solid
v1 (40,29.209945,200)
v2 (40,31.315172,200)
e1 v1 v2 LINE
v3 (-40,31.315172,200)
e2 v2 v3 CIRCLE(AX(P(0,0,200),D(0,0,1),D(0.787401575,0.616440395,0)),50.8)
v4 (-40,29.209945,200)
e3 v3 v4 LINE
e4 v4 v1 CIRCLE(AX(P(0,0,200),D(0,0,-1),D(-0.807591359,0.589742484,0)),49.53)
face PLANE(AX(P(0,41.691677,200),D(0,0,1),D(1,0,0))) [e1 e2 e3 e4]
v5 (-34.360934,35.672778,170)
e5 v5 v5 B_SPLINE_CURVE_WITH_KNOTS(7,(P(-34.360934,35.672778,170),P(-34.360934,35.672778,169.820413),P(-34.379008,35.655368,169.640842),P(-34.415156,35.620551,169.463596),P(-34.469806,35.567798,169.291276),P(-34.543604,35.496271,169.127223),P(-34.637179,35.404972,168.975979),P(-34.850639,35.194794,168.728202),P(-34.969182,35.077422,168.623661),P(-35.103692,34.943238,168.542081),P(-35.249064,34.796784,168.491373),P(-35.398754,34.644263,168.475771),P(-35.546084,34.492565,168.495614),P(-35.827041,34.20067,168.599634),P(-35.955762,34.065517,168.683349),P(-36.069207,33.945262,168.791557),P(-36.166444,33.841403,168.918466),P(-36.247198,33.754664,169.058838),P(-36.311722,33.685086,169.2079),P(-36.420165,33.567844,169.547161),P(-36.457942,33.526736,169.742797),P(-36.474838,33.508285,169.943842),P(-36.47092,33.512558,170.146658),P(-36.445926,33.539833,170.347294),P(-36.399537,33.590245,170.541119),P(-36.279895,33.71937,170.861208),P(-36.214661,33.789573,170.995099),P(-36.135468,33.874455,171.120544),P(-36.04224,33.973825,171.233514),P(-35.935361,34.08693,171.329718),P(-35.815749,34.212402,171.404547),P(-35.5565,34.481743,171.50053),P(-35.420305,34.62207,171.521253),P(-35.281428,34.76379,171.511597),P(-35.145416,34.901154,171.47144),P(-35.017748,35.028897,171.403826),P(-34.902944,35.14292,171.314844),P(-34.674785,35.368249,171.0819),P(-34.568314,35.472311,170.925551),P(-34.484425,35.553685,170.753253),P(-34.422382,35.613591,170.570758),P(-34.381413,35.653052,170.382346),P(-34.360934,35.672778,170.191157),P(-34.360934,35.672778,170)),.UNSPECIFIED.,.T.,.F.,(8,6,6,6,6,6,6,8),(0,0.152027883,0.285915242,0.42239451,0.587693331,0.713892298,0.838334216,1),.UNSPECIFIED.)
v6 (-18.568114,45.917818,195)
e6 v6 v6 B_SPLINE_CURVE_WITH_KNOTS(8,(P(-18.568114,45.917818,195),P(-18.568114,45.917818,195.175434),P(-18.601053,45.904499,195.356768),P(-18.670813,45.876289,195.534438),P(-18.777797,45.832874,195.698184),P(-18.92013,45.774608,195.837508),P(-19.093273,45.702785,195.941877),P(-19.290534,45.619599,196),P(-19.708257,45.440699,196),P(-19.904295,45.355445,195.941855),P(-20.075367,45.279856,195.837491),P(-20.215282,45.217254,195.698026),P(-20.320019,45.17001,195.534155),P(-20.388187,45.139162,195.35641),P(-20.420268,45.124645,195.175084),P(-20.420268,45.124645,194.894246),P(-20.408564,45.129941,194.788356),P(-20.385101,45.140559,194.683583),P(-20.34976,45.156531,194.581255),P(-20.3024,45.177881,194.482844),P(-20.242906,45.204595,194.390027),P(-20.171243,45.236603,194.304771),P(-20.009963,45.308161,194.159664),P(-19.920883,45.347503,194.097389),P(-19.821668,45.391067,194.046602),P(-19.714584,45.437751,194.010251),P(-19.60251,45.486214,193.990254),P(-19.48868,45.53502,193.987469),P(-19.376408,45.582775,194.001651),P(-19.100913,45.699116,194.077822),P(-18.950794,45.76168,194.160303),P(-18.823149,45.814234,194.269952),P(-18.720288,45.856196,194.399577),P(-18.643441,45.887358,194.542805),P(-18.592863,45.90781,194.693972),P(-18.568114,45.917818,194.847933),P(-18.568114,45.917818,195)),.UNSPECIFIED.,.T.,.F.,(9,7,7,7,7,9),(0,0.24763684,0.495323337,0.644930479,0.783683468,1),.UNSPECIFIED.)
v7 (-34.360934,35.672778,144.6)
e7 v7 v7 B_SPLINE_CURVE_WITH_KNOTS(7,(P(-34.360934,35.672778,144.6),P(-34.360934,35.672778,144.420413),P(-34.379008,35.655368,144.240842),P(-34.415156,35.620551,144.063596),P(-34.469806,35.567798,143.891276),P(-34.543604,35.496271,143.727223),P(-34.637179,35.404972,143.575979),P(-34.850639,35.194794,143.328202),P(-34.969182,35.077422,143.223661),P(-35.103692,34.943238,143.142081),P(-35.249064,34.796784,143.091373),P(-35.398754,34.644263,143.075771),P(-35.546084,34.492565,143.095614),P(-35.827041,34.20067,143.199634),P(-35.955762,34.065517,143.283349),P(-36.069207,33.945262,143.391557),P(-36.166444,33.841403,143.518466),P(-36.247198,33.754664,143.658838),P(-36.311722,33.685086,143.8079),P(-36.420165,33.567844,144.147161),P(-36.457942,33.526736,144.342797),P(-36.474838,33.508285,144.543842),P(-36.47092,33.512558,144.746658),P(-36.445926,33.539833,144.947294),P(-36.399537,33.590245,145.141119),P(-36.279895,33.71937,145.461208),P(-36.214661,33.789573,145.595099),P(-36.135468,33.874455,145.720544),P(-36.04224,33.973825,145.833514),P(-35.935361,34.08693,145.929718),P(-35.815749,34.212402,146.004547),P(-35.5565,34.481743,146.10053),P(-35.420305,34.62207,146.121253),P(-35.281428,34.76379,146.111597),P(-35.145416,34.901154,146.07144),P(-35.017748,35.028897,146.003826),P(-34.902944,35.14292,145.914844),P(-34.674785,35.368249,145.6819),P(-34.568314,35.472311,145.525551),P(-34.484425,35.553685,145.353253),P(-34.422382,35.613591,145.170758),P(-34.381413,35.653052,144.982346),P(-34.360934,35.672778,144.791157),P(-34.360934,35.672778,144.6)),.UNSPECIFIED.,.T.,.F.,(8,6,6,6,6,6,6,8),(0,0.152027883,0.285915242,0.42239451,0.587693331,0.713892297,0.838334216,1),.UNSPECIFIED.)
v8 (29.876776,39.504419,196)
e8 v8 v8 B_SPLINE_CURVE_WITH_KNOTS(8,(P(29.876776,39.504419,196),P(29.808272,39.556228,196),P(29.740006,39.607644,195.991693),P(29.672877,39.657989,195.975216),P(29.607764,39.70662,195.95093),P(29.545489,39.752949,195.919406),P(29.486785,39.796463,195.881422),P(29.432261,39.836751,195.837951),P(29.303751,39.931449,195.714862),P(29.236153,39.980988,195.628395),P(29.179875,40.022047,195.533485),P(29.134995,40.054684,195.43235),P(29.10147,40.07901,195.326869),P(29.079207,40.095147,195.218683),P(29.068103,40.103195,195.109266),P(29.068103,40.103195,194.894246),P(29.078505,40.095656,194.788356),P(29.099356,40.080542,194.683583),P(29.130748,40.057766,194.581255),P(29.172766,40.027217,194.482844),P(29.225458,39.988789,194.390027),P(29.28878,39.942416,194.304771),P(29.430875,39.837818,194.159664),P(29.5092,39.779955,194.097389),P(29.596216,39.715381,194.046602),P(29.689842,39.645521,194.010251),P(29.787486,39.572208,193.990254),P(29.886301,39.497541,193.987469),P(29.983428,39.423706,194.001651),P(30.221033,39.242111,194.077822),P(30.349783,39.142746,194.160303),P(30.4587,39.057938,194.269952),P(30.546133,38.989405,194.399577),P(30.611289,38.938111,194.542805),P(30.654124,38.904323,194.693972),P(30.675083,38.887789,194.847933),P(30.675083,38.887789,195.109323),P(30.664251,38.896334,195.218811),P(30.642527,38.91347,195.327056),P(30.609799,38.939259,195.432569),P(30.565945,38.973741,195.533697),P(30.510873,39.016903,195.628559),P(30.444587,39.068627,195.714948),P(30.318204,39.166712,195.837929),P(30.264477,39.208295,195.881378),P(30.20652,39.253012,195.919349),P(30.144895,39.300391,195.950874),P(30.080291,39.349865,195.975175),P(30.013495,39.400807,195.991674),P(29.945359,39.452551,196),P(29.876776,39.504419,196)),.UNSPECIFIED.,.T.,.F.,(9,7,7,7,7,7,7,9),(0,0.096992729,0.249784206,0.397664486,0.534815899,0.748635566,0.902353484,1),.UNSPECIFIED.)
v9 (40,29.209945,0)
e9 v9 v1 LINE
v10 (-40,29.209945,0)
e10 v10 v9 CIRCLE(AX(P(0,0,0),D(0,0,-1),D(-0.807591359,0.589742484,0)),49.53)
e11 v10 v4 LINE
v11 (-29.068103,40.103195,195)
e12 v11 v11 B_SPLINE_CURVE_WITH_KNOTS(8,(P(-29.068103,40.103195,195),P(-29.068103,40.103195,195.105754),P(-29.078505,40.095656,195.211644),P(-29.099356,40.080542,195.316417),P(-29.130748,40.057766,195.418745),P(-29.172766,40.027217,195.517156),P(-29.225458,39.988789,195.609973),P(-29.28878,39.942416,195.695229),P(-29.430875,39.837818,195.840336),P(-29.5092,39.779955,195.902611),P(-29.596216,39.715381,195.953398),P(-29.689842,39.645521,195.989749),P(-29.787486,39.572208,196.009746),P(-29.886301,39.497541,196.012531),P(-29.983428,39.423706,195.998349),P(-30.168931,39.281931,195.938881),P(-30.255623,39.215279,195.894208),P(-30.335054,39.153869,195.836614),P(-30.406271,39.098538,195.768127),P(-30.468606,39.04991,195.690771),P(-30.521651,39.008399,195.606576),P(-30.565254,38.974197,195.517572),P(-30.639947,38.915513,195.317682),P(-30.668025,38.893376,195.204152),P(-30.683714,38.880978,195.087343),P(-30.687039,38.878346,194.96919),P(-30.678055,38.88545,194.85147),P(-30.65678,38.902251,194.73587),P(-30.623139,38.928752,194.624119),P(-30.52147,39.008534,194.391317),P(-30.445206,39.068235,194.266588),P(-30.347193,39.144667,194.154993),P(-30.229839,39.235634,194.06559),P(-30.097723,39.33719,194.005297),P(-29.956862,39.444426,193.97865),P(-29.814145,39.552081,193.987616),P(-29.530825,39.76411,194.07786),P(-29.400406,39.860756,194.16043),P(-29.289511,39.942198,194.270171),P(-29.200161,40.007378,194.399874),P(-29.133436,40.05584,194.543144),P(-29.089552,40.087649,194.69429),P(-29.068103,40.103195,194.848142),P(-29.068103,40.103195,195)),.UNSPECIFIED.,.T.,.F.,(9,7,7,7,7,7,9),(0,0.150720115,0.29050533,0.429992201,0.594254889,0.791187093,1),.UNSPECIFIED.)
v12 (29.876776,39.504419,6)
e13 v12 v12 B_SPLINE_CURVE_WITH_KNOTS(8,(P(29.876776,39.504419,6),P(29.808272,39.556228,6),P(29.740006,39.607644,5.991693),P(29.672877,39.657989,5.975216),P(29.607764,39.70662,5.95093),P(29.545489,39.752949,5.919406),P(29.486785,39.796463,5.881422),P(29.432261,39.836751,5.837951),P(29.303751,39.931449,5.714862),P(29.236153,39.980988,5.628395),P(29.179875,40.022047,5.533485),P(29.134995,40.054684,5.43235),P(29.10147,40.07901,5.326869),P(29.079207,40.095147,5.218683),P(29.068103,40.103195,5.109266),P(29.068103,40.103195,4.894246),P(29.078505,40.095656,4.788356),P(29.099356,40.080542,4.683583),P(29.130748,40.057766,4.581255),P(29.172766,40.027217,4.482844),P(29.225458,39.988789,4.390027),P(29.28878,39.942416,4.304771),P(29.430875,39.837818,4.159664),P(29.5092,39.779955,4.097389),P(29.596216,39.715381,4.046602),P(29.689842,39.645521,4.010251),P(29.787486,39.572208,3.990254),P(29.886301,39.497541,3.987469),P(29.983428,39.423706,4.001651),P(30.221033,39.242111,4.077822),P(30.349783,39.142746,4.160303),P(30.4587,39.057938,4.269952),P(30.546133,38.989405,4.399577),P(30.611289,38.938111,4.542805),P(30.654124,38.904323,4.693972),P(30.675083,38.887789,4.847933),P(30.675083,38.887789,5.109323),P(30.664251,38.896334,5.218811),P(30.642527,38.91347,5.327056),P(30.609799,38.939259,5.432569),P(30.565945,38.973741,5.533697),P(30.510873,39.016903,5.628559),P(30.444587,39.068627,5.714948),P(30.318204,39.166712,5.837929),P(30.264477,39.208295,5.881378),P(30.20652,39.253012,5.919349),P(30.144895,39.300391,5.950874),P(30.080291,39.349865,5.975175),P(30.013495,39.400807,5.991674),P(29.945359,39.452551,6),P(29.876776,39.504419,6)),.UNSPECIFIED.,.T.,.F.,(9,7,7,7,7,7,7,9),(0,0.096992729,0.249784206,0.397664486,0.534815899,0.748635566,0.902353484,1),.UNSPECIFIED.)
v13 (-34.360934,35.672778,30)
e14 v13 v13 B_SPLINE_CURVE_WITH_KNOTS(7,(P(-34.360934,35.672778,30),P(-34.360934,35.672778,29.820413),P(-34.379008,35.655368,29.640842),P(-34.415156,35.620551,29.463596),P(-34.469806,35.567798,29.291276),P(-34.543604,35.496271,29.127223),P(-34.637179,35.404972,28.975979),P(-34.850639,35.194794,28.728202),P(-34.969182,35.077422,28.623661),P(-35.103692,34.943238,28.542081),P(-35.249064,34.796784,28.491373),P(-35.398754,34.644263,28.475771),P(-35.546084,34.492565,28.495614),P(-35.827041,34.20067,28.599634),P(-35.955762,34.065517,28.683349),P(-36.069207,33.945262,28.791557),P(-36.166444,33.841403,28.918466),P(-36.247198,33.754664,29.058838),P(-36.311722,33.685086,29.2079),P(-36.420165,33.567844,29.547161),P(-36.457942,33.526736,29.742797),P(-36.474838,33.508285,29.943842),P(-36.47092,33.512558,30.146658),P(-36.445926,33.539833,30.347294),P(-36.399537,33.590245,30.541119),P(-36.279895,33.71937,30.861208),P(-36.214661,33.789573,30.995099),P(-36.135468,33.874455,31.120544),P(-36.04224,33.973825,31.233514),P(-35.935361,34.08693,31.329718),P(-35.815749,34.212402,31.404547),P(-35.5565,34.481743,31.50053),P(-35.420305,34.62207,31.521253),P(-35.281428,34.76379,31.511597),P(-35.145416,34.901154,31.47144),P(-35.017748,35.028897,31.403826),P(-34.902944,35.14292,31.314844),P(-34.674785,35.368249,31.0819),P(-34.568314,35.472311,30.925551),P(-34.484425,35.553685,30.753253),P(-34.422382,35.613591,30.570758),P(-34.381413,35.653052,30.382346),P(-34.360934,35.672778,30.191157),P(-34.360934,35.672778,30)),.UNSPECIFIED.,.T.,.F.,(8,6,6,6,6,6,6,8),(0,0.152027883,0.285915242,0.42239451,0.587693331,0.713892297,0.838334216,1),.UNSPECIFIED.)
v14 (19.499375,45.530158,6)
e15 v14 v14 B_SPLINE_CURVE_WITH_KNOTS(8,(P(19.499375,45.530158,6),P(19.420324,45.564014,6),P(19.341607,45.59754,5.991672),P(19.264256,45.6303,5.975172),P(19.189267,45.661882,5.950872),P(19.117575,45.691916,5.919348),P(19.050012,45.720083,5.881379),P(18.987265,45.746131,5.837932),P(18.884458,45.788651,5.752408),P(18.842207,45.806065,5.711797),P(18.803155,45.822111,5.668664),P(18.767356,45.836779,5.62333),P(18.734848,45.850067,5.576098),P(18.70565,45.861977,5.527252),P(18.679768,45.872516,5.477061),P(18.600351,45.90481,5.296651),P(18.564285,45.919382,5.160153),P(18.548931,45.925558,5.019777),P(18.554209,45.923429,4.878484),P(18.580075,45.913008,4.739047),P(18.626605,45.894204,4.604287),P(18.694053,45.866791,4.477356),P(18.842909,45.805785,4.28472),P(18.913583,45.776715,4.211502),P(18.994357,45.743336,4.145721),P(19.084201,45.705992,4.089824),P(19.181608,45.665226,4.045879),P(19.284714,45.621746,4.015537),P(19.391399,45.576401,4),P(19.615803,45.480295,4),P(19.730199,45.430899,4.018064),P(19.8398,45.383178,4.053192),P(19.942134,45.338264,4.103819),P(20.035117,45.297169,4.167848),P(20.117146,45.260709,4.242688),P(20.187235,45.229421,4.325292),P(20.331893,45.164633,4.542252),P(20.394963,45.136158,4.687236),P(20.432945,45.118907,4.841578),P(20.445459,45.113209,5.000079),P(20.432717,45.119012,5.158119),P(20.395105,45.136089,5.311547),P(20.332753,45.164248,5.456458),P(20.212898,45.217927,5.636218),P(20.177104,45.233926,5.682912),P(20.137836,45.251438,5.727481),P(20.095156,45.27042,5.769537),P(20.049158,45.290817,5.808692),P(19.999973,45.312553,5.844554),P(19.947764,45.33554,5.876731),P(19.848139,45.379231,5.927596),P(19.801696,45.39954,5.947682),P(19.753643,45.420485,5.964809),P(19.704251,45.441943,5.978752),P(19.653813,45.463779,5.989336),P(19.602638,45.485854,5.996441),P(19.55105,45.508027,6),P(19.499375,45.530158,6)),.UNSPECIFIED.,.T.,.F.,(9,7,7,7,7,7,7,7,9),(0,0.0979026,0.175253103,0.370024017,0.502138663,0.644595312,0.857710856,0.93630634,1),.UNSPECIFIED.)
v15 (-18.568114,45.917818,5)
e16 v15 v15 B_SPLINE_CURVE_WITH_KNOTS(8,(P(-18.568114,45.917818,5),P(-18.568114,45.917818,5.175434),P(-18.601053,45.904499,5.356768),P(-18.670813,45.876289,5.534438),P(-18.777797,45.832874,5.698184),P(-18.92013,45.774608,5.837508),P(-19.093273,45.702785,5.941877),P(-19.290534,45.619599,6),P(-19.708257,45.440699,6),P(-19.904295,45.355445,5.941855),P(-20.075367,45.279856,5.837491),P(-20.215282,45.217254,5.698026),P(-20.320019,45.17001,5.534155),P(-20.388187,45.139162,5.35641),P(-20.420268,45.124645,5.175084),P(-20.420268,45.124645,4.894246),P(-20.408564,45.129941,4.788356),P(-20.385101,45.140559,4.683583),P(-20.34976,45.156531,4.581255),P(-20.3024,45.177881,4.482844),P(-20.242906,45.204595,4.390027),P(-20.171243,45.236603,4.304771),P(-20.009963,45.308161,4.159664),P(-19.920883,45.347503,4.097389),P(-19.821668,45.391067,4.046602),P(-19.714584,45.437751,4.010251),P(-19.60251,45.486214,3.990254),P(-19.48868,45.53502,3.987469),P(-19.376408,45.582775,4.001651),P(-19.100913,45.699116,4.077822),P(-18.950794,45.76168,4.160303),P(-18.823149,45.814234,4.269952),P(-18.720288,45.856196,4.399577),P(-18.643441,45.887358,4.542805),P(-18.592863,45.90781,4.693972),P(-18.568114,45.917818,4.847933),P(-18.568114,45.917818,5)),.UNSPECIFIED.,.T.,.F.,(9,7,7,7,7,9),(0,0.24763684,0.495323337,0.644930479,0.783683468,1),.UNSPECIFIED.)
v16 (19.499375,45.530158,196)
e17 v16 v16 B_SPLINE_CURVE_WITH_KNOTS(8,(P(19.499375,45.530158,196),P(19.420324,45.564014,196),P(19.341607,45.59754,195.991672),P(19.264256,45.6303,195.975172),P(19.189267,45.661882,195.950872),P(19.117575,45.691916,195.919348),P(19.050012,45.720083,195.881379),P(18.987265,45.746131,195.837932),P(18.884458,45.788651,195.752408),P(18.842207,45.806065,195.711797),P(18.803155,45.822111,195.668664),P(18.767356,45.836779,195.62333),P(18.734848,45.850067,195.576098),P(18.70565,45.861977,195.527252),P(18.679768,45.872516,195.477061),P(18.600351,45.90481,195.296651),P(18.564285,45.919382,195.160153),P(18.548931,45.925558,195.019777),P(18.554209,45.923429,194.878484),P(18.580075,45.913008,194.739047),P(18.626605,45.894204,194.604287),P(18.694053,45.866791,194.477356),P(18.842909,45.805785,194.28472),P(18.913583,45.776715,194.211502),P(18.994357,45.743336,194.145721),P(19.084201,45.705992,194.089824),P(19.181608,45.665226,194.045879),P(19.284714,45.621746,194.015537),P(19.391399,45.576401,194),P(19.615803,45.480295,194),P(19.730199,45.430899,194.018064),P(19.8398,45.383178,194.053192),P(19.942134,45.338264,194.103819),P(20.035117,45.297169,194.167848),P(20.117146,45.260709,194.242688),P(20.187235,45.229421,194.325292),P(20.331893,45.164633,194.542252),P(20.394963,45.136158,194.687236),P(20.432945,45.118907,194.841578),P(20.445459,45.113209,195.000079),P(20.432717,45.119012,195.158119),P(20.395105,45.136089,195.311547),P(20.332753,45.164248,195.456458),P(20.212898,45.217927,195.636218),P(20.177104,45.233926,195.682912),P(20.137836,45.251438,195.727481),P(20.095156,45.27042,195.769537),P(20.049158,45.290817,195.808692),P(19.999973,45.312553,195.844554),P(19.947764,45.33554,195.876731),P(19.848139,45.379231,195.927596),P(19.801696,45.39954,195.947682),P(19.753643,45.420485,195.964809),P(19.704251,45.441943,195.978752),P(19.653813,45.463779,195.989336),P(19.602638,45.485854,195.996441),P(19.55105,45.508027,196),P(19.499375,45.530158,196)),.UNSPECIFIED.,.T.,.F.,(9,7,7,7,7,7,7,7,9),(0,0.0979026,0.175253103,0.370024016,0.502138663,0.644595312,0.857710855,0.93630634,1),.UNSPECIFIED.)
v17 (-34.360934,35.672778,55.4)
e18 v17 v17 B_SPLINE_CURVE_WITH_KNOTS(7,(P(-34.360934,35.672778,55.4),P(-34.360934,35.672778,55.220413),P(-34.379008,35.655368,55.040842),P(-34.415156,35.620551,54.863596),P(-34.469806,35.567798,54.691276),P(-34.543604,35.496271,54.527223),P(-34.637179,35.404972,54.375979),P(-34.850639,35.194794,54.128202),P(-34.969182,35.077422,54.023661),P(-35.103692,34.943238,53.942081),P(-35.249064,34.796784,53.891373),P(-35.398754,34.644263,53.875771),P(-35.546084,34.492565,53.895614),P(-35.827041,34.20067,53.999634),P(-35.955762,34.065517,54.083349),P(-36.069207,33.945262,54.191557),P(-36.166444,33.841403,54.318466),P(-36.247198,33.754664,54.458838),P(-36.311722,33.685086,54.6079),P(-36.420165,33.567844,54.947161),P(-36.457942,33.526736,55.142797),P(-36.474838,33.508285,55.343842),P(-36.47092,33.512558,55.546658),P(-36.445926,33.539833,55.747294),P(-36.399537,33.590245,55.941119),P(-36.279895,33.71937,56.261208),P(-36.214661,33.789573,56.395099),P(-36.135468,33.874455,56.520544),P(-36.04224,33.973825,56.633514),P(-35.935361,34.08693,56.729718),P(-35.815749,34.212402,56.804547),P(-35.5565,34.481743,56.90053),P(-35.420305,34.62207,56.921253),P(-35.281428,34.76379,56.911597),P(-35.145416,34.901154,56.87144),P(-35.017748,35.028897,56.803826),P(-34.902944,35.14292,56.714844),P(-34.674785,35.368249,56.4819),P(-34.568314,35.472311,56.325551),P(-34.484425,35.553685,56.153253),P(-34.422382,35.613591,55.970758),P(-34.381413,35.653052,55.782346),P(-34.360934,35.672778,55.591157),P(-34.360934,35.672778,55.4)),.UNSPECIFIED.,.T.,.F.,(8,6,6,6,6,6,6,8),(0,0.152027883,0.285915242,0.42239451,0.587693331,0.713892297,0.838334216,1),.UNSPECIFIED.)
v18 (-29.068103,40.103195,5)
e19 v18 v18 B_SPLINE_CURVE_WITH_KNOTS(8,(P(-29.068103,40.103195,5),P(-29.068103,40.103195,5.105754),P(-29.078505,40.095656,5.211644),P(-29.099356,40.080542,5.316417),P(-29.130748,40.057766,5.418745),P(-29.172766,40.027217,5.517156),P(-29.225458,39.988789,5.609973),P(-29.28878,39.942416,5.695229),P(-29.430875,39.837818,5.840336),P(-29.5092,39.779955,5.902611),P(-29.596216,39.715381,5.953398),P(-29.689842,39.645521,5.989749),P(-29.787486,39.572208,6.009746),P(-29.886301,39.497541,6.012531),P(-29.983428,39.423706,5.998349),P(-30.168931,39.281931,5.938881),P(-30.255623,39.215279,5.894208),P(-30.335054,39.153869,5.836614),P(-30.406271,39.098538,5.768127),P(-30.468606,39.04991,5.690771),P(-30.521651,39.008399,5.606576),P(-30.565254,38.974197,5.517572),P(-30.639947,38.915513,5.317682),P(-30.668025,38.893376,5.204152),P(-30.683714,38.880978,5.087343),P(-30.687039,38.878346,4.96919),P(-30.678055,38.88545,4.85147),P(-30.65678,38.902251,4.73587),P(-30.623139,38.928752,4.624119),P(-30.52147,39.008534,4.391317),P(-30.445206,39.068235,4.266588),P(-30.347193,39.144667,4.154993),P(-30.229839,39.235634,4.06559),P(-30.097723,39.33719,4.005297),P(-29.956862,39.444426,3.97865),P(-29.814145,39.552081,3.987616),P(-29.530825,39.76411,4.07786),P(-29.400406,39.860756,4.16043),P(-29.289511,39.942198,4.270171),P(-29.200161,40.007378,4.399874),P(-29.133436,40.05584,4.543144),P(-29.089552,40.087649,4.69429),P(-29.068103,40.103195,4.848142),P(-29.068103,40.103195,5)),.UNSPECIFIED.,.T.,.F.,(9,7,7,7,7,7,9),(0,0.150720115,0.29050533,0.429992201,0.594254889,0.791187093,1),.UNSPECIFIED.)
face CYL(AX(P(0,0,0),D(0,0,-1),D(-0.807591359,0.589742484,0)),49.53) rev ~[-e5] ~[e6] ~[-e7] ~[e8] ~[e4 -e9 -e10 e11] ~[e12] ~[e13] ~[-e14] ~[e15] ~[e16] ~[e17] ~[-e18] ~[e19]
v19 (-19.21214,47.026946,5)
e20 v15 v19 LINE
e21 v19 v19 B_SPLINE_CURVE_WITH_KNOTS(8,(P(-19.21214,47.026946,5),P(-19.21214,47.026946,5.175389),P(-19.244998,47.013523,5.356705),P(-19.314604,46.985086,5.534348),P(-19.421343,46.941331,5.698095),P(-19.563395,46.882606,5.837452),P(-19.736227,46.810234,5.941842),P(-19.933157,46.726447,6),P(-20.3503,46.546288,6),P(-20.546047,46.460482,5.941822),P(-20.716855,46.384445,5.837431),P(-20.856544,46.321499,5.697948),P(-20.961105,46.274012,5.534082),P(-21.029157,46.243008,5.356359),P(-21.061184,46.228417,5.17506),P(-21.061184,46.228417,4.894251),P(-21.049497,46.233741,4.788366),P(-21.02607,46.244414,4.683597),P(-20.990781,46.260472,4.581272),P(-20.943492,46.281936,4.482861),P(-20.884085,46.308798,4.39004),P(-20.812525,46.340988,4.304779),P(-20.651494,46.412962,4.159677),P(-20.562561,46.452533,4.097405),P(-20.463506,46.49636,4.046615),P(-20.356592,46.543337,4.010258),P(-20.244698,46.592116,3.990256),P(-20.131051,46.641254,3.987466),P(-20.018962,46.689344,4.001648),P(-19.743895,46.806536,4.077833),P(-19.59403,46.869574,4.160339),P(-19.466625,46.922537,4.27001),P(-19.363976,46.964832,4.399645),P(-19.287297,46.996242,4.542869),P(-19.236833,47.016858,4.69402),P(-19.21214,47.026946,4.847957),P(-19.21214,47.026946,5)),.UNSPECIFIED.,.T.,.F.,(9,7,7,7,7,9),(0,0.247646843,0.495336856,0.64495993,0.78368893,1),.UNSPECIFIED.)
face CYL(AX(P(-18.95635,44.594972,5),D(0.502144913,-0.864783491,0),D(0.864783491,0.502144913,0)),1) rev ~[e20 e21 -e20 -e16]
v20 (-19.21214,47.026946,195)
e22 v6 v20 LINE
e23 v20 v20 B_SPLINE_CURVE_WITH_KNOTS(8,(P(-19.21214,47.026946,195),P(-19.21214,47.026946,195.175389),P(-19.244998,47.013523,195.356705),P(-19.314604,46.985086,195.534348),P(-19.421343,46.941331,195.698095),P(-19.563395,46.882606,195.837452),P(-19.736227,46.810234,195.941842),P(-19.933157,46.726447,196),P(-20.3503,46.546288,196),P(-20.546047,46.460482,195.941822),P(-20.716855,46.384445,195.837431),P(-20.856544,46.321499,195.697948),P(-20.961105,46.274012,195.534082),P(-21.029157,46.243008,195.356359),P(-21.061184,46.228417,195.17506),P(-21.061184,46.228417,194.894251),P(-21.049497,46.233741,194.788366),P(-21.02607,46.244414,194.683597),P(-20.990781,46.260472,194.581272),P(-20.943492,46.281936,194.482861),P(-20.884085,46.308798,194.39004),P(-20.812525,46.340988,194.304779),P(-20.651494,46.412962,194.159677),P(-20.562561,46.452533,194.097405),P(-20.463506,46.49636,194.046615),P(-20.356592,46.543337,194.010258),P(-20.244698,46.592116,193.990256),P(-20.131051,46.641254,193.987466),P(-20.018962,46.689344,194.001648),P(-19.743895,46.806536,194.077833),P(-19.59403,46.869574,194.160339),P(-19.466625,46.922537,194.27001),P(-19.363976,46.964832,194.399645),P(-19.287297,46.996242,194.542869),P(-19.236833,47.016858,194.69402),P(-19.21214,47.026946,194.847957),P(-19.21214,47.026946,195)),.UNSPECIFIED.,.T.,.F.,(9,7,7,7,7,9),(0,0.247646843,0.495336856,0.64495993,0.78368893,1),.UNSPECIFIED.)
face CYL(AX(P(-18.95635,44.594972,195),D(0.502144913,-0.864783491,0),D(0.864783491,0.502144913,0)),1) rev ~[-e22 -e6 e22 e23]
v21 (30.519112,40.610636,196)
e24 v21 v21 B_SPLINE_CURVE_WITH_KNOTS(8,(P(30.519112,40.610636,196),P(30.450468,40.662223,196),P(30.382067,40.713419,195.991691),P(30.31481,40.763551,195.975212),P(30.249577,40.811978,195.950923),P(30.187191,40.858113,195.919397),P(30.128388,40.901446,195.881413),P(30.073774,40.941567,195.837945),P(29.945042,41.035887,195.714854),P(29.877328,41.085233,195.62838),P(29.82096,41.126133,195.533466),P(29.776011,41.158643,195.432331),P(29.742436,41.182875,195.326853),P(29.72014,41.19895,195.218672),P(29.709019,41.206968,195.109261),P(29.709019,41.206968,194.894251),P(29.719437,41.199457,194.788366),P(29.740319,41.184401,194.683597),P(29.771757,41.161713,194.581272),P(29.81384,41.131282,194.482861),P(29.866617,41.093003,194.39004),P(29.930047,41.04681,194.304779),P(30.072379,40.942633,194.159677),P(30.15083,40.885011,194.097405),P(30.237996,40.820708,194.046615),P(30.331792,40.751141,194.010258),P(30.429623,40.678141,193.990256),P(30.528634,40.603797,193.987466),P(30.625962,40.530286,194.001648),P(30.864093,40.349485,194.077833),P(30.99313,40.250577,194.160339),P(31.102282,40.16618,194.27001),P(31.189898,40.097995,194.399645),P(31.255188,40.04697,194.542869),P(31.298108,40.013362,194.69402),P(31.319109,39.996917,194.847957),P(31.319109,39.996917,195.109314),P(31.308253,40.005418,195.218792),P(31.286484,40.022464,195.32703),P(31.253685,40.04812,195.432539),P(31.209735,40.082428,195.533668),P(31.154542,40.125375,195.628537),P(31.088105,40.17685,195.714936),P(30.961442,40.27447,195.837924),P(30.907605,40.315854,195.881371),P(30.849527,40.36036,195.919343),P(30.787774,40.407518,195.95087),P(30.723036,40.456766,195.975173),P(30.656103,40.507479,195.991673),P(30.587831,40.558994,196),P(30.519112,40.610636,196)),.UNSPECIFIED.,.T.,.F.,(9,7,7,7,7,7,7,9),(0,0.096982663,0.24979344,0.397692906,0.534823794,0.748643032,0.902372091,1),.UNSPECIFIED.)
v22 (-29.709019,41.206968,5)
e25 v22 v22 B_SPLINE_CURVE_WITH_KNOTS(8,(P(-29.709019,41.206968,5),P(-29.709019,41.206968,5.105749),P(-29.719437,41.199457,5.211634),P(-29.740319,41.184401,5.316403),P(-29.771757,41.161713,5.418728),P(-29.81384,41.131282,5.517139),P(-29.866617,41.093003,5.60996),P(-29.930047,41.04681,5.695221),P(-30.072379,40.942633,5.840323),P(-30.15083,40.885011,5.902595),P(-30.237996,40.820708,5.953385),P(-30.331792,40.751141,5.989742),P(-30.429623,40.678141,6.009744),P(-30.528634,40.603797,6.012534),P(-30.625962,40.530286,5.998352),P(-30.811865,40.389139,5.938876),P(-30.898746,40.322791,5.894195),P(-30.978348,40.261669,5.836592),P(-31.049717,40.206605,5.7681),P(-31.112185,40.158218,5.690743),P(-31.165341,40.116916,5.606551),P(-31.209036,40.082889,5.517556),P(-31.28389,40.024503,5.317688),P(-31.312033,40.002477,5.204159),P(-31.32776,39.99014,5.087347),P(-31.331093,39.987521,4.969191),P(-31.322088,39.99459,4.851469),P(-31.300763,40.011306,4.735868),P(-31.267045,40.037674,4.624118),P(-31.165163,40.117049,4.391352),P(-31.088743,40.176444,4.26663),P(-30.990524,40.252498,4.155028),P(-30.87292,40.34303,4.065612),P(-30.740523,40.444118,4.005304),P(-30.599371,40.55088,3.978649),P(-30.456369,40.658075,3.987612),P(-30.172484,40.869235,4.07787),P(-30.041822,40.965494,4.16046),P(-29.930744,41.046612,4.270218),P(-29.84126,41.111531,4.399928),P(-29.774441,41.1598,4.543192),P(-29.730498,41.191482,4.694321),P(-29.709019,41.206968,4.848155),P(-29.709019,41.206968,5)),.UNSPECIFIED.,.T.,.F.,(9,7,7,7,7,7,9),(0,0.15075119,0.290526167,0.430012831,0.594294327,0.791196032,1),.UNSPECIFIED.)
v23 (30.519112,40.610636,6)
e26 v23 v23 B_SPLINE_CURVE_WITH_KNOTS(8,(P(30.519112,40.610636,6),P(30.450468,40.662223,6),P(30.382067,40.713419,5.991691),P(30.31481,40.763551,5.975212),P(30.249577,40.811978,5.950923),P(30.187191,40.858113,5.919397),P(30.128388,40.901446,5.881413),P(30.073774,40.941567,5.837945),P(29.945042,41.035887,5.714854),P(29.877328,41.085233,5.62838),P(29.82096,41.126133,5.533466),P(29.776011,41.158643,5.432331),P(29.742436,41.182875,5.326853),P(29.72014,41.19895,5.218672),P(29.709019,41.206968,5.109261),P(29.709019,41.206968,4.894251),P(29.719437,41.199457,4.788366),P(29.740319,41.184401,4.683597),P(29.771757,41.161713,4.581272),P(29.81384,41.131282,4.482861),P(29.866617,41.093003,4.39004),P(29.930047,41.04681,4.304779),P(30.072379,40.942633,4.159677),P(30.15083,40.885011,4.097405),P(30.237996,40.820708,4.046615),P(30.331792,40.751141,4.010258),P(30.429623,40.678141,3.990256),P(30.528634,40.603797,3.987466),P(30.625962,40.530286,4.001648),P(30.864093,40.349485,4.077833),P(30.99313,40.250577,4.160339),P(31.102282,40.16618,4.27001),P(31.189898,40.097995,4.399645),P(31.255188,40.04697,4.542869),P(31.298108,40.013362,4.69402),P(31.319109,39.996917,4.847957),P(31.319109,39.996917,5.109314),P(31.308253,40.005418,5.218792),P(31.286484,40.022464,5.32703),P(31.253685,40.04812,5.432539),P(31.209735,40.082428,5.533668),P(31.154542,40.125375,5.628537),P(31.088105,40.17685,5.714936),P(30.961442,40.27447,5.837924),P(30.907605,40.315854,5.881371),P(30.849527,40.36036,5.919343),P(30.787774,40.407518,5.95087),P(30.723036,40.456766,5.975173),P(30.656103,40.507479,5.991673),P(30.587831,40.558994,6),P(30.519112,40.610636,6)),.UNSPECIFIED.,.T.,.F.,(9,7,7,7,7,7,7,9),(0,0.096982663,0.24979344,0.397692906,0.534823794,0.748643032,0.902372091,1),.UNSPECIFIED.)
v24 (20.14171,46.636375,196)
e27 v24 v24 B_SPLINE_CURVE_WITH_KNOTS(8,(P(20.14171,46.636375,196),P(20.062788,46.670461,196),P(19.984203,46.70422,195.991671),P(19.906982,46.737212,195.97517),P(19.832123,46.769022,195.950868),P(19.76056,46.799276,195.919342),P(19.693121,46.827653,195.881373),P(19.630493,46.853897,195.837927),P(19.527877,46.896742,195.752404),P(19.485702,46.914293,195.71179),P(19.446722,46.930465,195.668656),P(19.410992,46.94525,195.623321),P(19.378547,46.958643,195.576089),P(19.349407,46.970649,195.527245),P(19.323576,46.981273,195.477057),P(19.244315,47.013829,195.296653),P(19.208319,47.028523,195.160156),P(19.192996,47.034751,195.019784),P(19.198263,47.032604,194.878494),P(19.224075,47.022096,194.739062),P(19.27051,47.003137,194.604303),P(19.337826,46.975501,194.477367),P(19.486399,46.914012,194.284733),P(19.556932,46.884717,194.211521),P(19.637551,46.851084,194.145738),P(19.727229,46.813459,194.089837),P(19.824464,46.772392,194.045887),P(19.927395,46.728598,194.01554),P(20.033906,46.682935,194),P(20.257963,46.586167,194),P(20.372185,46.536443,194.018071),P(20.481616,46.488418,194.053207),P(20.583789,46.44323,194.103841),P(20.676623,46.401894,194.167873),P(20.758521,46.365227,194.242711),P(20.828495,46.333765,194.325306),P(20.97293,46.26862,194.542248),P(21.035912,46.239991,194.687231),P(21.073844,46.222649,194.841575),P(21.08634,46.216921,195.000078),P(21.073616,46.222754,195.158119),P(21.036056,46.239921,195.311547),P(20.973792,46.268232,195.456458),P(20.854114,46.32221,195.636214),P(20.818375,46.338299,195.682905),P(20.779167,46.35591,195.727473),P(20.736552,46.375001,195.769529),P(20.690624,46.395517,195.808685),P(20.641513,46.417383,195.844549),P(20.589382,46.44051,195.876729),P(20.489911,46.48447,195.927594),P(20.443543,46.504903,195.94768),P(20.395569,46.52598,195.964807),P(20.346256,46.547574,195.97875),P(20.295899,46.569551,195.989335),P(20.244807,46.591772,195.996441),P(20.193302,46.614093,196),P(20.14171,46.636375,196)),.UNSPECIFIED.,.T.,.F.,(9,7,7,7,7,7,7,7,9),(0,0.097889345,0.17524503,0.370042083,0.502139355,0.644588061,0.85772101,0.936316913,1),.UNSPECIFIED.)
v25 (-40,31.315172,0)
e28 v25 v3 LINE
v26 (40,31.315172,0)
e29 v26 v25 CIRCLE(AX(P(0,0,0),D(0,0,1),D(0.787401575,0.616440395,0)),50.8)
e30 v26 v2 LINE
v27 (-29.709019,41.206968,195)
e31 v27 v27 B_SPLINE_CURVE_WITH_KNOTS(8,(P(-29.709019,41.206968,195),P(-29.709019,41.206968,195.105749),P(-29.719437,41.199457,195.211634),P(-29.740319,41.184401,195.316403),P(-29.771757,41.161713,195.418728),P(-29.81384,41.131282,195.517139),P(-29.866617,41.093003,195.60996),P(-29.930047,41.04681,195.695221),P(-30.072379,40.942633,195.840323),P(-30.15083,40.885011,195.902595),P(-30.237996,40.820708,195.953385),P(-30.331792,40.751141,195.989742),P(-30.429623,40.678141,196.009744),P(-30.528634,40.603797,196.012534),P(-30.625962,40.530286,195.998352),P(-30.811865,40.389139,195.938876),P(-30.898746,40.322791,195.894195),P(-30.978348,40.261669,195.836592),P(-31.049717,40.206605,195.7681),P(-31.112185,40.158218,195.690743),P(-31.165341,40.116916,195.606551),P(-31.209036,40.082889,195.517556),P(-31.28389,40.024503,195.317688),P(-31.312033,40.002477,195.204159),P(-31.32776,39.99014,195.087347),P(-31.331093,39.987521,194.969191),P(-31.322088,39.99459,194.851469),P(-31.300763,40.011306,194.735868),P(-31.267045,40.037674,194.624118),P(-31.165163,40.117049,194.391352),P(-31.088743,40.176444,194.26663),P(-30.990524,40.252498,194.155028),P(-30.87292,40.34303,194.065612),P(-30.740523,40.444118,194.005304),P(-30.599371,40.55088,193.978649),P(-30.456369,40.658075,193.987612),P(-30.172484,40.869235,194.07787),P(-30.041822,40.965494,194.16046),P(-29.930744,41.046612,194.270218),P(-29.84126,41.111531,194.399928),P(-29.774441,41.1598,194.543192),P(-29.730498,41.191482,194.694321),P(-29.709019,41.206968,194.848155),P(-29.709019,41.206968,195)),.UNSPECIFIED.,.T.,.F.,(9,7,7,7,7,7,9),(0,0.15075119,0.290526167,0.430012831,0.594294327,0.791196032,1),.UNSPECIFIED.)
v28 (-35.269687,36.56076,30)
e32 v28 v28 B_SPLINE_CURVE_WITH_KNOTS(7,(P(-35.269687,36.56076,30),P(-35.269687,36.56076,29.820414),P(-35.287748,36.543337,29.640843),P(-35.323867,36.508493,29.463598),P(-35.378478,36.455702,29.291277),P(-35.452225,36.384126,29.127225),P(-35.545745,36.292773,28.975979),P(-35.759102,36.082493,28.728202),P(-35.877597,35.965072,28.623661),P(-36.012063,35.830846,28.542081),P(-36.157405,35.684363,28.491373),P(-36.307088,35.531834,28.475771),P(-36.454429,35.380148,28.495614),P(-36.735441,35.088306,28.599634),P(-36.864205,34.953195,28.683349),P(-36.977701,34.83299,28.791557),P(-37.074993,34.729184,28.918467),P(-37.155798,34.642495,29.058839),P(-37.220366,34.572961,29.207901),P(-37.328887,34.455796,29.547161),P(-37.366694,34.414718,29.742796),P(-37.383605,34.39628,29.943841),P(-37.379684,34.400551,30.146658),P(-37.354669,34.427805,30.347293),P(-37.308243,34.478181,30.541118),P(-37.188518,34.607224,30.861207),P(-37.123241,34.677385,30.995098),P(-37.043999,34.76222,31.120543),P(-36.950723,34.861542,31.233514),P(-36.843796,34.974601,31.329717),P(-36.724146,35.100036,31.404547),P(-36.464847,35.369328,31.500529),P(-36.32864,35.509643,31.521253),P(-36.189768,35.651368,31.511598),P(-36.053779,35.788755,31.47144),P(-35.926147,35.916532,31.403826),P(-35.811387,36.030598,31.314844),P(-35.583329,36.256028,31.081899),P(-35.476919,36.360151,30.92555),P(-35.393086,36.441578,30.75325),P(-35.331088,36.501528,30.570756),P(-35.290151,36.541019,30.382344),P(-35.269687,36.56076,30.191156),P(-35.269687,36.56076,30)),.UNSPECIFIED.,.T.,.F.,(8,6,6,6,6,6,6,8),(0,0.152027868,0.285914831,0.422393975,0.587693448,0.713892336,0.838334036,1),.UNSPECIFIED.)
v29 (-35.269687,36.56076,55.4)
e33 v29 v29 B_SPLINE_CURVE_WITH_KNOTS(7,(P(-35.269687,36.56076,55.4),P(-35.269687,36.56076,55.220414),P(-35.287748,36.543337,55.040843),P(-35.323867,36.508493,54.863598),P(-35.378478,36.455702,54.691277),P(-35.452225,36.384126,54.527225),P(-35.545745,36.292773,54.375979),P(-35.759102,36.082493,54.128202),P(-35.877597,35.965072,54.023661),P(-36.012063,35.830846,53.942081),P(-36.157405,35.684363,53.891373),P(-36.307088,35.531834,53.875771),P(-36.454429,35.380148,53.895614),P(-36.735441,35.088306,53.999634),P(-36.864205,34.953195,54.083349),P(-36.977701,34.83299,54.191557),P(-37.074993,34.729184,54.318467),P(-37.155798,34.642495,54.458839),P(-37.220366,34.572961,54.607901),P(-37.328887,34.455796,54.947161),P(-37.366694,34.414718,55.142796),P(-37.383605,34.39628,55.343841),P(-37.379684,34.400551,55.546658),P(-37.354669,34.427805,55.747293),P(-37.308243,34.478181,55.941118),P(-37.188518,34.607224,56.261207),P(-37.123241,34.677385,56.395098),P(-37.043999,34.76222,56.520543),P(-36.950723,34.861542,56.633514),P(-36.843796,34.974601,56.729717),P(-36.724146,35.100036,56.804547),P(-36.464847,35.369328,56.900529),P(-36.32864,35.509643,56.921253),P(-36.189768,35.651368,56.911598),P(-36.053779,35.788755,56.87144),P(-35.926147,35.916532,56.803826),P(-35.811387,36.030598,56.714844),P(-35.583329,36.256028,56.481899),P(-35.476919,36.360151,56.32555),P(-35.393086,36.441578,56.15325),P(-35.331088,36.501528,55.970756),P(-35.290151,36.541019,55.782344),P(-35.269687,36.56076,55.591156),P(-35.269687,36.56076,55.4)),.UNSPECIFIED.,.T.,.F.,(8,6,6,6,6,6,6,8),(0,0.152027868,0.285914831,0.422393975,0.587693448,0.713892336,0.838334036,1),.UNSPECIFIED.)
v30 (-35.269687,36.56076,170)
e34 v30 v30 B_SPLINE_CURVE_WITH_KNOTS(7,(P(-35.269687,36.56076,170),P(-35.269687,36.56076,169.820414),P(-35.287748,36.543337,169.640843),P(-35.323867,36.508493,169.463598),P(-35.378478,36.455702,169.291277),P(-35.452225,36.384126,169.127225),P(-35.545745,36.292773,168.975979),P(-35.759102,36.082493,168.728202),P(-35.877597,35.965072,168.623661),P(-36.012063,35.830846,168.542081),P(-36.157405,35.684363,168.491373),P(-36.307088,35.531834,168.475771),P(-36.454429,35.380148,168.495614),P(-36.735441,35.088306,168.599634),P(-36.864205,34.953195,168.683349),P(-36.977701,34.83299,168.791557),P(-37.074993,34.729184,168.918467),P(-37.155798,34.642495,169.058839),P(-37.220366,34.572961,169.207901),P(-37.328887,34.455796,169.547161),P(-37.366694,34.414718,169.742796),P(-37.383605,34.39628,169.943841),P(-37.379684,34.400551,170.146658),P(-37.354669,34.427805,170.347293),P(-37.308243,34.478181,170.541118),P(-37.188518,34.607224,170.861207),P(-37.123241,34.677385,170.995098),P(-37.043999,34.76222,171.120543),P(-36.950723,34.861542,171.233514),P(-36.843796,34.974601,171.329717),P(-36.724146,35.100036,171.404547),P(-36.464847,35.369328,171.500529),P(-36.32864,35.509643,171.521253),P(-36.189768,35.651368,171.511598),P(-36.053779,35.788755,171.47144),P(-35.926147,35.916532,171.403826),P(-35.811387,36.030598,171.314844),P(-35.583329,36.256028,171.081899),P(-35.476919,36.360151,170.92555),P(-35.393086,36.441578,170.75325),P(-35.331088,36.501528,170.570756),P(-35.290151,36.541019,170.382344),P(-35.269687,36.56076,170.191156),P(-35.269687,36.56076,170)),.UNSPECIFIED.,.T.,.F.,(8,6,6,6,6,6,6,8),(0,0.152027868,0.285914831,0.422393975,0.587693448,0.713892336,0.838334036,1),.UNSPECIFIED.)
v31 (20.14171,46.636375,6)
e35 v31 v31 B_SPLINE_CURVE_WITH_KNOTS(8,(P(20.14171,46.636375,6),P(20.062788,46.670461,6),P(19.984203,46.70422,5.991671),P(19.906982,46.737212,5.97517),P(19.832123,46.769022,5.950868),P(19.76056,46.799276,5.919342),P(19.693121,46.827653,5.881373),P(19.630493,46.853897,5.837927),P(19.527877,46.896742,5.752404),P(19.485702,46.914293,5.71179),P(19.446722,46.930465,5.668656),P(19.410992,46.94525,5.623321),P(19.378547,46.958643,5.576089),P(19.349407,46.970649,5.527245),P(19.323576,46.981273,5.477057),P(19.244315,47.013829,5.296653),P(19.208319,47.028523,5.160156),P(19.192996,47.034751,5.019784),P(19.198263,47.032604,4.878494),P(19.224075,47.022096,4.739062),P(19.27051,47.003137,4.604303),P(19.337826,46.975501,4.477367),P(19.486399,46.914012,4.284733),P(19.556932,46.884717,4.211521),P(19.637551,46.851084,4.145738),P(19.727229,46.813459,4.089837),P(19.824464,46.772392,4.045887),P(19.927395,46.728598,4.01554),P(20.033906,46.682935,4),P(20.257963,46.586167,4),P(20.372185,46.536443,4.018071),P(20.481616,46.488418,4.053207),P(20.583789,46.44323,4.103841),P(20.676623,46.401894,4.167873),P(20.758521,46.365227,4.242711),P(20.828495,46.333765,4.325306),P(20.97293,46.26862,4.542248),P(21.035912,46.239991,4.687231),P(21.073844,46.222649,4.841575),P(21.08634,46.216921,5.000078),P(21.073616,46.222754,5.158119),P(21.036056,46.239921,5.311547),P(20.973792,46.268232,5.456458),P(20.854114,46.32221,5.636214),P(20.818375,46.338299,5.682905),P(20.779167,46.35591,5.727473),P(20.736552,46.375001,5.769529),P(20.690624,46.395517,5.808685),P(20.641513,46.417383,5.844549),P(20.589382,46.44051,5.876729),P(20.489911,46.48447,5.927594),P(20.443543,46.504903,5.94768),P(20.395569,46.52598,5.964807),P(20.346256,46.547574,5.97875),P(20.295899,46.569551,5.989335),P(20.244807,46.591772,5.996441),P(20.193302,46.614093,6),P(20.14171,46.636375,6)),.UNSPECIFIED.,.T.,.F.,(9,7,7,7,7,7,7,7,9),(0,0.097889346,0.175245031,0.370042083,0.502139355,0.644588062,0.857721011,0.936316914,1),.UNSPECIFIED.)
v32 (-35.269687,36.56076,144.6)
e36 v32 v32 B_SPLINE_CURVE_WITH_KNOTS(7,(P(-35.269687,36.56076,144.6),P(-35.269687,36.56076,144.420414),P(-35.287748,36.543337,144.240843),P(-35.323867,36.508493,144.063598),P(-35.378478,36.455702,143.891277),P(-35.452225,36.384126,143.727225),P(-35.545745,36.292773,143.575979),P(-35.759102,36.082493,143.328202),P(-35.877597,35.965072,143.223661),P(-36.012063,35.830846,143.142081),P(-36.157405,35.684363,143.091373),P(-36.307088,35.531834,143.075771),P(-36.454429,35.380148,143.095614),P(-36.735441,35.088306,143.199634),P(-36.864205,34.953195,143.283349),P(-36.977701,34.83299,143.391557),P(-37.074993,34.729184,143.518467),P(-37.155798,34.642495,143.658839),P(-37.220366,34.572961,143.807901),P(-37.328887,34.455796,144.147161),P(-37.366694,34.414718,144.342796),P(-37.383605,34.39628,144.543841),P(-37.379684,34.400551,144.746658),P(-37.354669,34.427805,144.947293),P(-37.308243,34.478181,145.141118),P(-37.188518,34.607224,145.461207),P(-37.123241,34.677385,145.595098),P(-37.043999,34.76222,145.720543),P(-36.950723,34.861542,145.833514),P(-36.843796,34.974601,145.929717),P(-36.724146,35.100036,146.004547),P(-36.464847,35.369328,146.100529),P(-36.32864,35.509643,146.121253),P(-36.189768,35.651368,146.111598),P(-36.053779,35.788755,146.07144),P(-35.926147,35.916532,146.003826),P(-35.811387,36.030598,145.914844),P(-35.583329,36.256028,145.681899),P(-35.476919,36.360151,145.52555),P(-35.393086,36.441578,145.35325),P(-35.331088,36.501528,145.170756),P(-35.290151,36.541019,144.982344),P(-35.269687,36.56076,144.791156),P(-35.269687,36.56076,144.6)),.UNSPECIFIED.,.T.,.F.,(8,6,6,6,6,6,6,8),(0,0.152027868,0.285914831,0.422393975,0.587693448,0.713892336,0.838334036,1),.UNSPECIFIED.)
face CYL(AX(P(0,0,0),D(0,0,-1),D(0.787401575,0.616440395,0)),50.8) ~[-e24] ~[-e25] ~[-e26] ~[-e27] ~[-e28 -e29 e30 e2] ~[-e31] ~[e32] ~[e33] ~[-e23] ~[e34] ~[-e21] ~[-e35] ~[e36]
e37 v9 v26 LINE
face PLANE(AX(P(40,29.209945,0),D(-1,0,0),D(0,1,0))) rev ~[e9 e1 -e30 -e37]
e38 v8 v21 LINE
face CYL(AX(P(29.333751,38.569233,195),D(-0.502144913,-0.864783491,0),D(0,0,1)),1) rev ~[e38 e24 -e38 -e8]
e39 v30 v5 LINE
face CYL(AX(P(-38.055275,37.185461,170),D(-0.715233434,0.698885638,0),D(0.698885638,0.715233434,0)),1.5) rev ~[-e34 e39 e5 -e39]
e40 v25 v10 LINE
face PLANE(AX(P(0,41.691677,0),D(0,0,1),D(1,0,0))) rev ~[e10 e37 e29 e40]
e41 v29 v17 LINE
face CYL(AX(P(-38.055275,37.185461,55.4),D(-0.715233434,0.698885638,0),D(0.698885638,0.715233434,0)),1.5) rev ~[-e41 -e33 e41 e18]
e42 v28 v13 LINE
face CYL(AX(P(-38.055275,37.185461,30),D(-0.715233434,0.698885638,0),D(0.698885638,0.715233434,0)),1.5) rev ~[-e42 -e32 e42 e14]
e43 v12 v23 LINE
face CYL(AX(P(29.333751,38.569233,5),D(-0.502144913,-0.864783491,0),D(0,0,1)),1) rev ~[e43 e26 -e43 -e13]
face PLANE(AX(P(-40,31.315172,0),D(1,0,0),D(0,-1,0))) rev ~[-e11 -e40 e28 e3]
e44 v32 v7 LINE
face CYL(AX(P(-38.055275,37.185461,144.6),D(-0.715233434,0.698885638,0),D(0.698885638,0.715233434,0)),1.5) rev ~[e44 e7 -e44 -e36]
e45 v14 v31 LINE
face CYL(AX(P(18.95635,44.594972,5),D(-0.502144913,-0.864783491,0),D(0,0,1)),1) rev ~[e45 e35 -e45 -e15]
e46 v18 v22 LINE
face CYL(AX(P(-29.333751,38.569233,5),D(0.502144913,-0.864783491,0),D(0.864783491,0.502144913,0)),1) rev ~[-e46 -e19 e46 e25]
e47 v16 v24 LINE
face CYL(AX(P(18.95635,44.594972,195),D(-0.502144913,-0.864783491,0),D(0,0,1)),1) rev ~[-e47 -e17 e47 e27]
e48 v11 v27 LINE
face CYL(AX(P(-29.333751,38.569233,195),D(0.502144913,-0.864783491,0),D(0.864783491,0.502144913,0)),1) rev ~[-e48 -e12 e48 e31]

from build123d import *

# Parameters (mm, degrees)
BOSS_EXTRUDE1_DEPTH = 200
SKETCH5_R           = 1.5
CUT_EXTRUDE2_DEPTH  = 9
SKETCH6_R           = 1
CUT_EXTRUDE3_DEPTH  = 7
SKETCH7_R           = 1
CUT_EXTRUDE4_DEPTH  = 7


with BuildPart() as part:
    # Sketch1 → Boss-Extrude1 (new body)
    with BuildSketch(Plane.XY):
        with BuildLine():
            Line((-40, 31.315172042), (-40, 29.209945224))
            ThreePointArc((-40, 29.209945224), (0, 49.53), (40, 29.209945224))
            Line((40, 29.209945224), (40, 31.315172042))
            ThreePointArc((40, 31.315172042), (0, 50.8), (-40, 31.315172042))
        make_face()
    extrude(amount=BOSS_EXTRUDE1_DEPTH)

    # Sketch5 → Cut-Extrude2 (cut)
    with BuildSketch(Plane(origin=(-693.222728567, -633.307165687, 0), x_dir=(0.698885638, 0.715233434, 0), z_dir=(-0.715233434, 0.698885638, 0))):
        with Locations((937.445867756, -30)):
            Circle(SKETCH5_R)
        with Locations((937.445867756, -55.4)):
            Circle(SKETCH5_R)
        with Locations((937.445867756, -144.6)):
            Circle(SKETCH5_R)
        with Locations((937.445867756, -170)):
            Circle(SKETCH5_R)
    extrude(amount=-CUT_EXTRUDE2_DEPTH, mode=Mode.SUBTRACT)

    # Sketch6 → Cut-Extrude3 (cut)
    with BuildSketch(Plane(origin=(24.145050499, 41.582102129, -52.4), x_dir=(0, 0, 1), z_dir=(-0.502144913, -0.864783491, 0))):
        with Locations((247.4, 6)):
            Circle(SKETCH6_R)
        with Locations((247.4, -6)):
            Circle(SKETCH6_R)
        with Locations((57.4, 6)):
            Circle(SKETCH6_R)
        with Locations((57.4, -6)):
            Circle(SKETCH6_R)
    extrude(amount=-CUT_EXTRUDE3_DEPTH, mode=Mode.SUBTRACT)

    # Sketch7 → Cut-Extrude4 (cut)
    with BuildSketch(Plane(origin=(-24.145050502, 41.582102128, -52.4), x_dir=(0.864783491, 0.502144913, 0), z_dir=(0.502144913, -0.864783491, 0))):
        with Locations((-6, 247.4)):
            Circle(SKETCH7_R)
        with Locations((6, 247.4)):
            Circle(SKETCH7_R)
        with Locations((-6, 57.4)):
            Circle(SKETCH7_R)
        with Locations((6, 57.4)):
            Circle(SKETCH7_R)
    extrude(amount=-CUT_EXTRUDE4_DEPTH, mode=Mode.SUBTRACT)


solid = part.part
